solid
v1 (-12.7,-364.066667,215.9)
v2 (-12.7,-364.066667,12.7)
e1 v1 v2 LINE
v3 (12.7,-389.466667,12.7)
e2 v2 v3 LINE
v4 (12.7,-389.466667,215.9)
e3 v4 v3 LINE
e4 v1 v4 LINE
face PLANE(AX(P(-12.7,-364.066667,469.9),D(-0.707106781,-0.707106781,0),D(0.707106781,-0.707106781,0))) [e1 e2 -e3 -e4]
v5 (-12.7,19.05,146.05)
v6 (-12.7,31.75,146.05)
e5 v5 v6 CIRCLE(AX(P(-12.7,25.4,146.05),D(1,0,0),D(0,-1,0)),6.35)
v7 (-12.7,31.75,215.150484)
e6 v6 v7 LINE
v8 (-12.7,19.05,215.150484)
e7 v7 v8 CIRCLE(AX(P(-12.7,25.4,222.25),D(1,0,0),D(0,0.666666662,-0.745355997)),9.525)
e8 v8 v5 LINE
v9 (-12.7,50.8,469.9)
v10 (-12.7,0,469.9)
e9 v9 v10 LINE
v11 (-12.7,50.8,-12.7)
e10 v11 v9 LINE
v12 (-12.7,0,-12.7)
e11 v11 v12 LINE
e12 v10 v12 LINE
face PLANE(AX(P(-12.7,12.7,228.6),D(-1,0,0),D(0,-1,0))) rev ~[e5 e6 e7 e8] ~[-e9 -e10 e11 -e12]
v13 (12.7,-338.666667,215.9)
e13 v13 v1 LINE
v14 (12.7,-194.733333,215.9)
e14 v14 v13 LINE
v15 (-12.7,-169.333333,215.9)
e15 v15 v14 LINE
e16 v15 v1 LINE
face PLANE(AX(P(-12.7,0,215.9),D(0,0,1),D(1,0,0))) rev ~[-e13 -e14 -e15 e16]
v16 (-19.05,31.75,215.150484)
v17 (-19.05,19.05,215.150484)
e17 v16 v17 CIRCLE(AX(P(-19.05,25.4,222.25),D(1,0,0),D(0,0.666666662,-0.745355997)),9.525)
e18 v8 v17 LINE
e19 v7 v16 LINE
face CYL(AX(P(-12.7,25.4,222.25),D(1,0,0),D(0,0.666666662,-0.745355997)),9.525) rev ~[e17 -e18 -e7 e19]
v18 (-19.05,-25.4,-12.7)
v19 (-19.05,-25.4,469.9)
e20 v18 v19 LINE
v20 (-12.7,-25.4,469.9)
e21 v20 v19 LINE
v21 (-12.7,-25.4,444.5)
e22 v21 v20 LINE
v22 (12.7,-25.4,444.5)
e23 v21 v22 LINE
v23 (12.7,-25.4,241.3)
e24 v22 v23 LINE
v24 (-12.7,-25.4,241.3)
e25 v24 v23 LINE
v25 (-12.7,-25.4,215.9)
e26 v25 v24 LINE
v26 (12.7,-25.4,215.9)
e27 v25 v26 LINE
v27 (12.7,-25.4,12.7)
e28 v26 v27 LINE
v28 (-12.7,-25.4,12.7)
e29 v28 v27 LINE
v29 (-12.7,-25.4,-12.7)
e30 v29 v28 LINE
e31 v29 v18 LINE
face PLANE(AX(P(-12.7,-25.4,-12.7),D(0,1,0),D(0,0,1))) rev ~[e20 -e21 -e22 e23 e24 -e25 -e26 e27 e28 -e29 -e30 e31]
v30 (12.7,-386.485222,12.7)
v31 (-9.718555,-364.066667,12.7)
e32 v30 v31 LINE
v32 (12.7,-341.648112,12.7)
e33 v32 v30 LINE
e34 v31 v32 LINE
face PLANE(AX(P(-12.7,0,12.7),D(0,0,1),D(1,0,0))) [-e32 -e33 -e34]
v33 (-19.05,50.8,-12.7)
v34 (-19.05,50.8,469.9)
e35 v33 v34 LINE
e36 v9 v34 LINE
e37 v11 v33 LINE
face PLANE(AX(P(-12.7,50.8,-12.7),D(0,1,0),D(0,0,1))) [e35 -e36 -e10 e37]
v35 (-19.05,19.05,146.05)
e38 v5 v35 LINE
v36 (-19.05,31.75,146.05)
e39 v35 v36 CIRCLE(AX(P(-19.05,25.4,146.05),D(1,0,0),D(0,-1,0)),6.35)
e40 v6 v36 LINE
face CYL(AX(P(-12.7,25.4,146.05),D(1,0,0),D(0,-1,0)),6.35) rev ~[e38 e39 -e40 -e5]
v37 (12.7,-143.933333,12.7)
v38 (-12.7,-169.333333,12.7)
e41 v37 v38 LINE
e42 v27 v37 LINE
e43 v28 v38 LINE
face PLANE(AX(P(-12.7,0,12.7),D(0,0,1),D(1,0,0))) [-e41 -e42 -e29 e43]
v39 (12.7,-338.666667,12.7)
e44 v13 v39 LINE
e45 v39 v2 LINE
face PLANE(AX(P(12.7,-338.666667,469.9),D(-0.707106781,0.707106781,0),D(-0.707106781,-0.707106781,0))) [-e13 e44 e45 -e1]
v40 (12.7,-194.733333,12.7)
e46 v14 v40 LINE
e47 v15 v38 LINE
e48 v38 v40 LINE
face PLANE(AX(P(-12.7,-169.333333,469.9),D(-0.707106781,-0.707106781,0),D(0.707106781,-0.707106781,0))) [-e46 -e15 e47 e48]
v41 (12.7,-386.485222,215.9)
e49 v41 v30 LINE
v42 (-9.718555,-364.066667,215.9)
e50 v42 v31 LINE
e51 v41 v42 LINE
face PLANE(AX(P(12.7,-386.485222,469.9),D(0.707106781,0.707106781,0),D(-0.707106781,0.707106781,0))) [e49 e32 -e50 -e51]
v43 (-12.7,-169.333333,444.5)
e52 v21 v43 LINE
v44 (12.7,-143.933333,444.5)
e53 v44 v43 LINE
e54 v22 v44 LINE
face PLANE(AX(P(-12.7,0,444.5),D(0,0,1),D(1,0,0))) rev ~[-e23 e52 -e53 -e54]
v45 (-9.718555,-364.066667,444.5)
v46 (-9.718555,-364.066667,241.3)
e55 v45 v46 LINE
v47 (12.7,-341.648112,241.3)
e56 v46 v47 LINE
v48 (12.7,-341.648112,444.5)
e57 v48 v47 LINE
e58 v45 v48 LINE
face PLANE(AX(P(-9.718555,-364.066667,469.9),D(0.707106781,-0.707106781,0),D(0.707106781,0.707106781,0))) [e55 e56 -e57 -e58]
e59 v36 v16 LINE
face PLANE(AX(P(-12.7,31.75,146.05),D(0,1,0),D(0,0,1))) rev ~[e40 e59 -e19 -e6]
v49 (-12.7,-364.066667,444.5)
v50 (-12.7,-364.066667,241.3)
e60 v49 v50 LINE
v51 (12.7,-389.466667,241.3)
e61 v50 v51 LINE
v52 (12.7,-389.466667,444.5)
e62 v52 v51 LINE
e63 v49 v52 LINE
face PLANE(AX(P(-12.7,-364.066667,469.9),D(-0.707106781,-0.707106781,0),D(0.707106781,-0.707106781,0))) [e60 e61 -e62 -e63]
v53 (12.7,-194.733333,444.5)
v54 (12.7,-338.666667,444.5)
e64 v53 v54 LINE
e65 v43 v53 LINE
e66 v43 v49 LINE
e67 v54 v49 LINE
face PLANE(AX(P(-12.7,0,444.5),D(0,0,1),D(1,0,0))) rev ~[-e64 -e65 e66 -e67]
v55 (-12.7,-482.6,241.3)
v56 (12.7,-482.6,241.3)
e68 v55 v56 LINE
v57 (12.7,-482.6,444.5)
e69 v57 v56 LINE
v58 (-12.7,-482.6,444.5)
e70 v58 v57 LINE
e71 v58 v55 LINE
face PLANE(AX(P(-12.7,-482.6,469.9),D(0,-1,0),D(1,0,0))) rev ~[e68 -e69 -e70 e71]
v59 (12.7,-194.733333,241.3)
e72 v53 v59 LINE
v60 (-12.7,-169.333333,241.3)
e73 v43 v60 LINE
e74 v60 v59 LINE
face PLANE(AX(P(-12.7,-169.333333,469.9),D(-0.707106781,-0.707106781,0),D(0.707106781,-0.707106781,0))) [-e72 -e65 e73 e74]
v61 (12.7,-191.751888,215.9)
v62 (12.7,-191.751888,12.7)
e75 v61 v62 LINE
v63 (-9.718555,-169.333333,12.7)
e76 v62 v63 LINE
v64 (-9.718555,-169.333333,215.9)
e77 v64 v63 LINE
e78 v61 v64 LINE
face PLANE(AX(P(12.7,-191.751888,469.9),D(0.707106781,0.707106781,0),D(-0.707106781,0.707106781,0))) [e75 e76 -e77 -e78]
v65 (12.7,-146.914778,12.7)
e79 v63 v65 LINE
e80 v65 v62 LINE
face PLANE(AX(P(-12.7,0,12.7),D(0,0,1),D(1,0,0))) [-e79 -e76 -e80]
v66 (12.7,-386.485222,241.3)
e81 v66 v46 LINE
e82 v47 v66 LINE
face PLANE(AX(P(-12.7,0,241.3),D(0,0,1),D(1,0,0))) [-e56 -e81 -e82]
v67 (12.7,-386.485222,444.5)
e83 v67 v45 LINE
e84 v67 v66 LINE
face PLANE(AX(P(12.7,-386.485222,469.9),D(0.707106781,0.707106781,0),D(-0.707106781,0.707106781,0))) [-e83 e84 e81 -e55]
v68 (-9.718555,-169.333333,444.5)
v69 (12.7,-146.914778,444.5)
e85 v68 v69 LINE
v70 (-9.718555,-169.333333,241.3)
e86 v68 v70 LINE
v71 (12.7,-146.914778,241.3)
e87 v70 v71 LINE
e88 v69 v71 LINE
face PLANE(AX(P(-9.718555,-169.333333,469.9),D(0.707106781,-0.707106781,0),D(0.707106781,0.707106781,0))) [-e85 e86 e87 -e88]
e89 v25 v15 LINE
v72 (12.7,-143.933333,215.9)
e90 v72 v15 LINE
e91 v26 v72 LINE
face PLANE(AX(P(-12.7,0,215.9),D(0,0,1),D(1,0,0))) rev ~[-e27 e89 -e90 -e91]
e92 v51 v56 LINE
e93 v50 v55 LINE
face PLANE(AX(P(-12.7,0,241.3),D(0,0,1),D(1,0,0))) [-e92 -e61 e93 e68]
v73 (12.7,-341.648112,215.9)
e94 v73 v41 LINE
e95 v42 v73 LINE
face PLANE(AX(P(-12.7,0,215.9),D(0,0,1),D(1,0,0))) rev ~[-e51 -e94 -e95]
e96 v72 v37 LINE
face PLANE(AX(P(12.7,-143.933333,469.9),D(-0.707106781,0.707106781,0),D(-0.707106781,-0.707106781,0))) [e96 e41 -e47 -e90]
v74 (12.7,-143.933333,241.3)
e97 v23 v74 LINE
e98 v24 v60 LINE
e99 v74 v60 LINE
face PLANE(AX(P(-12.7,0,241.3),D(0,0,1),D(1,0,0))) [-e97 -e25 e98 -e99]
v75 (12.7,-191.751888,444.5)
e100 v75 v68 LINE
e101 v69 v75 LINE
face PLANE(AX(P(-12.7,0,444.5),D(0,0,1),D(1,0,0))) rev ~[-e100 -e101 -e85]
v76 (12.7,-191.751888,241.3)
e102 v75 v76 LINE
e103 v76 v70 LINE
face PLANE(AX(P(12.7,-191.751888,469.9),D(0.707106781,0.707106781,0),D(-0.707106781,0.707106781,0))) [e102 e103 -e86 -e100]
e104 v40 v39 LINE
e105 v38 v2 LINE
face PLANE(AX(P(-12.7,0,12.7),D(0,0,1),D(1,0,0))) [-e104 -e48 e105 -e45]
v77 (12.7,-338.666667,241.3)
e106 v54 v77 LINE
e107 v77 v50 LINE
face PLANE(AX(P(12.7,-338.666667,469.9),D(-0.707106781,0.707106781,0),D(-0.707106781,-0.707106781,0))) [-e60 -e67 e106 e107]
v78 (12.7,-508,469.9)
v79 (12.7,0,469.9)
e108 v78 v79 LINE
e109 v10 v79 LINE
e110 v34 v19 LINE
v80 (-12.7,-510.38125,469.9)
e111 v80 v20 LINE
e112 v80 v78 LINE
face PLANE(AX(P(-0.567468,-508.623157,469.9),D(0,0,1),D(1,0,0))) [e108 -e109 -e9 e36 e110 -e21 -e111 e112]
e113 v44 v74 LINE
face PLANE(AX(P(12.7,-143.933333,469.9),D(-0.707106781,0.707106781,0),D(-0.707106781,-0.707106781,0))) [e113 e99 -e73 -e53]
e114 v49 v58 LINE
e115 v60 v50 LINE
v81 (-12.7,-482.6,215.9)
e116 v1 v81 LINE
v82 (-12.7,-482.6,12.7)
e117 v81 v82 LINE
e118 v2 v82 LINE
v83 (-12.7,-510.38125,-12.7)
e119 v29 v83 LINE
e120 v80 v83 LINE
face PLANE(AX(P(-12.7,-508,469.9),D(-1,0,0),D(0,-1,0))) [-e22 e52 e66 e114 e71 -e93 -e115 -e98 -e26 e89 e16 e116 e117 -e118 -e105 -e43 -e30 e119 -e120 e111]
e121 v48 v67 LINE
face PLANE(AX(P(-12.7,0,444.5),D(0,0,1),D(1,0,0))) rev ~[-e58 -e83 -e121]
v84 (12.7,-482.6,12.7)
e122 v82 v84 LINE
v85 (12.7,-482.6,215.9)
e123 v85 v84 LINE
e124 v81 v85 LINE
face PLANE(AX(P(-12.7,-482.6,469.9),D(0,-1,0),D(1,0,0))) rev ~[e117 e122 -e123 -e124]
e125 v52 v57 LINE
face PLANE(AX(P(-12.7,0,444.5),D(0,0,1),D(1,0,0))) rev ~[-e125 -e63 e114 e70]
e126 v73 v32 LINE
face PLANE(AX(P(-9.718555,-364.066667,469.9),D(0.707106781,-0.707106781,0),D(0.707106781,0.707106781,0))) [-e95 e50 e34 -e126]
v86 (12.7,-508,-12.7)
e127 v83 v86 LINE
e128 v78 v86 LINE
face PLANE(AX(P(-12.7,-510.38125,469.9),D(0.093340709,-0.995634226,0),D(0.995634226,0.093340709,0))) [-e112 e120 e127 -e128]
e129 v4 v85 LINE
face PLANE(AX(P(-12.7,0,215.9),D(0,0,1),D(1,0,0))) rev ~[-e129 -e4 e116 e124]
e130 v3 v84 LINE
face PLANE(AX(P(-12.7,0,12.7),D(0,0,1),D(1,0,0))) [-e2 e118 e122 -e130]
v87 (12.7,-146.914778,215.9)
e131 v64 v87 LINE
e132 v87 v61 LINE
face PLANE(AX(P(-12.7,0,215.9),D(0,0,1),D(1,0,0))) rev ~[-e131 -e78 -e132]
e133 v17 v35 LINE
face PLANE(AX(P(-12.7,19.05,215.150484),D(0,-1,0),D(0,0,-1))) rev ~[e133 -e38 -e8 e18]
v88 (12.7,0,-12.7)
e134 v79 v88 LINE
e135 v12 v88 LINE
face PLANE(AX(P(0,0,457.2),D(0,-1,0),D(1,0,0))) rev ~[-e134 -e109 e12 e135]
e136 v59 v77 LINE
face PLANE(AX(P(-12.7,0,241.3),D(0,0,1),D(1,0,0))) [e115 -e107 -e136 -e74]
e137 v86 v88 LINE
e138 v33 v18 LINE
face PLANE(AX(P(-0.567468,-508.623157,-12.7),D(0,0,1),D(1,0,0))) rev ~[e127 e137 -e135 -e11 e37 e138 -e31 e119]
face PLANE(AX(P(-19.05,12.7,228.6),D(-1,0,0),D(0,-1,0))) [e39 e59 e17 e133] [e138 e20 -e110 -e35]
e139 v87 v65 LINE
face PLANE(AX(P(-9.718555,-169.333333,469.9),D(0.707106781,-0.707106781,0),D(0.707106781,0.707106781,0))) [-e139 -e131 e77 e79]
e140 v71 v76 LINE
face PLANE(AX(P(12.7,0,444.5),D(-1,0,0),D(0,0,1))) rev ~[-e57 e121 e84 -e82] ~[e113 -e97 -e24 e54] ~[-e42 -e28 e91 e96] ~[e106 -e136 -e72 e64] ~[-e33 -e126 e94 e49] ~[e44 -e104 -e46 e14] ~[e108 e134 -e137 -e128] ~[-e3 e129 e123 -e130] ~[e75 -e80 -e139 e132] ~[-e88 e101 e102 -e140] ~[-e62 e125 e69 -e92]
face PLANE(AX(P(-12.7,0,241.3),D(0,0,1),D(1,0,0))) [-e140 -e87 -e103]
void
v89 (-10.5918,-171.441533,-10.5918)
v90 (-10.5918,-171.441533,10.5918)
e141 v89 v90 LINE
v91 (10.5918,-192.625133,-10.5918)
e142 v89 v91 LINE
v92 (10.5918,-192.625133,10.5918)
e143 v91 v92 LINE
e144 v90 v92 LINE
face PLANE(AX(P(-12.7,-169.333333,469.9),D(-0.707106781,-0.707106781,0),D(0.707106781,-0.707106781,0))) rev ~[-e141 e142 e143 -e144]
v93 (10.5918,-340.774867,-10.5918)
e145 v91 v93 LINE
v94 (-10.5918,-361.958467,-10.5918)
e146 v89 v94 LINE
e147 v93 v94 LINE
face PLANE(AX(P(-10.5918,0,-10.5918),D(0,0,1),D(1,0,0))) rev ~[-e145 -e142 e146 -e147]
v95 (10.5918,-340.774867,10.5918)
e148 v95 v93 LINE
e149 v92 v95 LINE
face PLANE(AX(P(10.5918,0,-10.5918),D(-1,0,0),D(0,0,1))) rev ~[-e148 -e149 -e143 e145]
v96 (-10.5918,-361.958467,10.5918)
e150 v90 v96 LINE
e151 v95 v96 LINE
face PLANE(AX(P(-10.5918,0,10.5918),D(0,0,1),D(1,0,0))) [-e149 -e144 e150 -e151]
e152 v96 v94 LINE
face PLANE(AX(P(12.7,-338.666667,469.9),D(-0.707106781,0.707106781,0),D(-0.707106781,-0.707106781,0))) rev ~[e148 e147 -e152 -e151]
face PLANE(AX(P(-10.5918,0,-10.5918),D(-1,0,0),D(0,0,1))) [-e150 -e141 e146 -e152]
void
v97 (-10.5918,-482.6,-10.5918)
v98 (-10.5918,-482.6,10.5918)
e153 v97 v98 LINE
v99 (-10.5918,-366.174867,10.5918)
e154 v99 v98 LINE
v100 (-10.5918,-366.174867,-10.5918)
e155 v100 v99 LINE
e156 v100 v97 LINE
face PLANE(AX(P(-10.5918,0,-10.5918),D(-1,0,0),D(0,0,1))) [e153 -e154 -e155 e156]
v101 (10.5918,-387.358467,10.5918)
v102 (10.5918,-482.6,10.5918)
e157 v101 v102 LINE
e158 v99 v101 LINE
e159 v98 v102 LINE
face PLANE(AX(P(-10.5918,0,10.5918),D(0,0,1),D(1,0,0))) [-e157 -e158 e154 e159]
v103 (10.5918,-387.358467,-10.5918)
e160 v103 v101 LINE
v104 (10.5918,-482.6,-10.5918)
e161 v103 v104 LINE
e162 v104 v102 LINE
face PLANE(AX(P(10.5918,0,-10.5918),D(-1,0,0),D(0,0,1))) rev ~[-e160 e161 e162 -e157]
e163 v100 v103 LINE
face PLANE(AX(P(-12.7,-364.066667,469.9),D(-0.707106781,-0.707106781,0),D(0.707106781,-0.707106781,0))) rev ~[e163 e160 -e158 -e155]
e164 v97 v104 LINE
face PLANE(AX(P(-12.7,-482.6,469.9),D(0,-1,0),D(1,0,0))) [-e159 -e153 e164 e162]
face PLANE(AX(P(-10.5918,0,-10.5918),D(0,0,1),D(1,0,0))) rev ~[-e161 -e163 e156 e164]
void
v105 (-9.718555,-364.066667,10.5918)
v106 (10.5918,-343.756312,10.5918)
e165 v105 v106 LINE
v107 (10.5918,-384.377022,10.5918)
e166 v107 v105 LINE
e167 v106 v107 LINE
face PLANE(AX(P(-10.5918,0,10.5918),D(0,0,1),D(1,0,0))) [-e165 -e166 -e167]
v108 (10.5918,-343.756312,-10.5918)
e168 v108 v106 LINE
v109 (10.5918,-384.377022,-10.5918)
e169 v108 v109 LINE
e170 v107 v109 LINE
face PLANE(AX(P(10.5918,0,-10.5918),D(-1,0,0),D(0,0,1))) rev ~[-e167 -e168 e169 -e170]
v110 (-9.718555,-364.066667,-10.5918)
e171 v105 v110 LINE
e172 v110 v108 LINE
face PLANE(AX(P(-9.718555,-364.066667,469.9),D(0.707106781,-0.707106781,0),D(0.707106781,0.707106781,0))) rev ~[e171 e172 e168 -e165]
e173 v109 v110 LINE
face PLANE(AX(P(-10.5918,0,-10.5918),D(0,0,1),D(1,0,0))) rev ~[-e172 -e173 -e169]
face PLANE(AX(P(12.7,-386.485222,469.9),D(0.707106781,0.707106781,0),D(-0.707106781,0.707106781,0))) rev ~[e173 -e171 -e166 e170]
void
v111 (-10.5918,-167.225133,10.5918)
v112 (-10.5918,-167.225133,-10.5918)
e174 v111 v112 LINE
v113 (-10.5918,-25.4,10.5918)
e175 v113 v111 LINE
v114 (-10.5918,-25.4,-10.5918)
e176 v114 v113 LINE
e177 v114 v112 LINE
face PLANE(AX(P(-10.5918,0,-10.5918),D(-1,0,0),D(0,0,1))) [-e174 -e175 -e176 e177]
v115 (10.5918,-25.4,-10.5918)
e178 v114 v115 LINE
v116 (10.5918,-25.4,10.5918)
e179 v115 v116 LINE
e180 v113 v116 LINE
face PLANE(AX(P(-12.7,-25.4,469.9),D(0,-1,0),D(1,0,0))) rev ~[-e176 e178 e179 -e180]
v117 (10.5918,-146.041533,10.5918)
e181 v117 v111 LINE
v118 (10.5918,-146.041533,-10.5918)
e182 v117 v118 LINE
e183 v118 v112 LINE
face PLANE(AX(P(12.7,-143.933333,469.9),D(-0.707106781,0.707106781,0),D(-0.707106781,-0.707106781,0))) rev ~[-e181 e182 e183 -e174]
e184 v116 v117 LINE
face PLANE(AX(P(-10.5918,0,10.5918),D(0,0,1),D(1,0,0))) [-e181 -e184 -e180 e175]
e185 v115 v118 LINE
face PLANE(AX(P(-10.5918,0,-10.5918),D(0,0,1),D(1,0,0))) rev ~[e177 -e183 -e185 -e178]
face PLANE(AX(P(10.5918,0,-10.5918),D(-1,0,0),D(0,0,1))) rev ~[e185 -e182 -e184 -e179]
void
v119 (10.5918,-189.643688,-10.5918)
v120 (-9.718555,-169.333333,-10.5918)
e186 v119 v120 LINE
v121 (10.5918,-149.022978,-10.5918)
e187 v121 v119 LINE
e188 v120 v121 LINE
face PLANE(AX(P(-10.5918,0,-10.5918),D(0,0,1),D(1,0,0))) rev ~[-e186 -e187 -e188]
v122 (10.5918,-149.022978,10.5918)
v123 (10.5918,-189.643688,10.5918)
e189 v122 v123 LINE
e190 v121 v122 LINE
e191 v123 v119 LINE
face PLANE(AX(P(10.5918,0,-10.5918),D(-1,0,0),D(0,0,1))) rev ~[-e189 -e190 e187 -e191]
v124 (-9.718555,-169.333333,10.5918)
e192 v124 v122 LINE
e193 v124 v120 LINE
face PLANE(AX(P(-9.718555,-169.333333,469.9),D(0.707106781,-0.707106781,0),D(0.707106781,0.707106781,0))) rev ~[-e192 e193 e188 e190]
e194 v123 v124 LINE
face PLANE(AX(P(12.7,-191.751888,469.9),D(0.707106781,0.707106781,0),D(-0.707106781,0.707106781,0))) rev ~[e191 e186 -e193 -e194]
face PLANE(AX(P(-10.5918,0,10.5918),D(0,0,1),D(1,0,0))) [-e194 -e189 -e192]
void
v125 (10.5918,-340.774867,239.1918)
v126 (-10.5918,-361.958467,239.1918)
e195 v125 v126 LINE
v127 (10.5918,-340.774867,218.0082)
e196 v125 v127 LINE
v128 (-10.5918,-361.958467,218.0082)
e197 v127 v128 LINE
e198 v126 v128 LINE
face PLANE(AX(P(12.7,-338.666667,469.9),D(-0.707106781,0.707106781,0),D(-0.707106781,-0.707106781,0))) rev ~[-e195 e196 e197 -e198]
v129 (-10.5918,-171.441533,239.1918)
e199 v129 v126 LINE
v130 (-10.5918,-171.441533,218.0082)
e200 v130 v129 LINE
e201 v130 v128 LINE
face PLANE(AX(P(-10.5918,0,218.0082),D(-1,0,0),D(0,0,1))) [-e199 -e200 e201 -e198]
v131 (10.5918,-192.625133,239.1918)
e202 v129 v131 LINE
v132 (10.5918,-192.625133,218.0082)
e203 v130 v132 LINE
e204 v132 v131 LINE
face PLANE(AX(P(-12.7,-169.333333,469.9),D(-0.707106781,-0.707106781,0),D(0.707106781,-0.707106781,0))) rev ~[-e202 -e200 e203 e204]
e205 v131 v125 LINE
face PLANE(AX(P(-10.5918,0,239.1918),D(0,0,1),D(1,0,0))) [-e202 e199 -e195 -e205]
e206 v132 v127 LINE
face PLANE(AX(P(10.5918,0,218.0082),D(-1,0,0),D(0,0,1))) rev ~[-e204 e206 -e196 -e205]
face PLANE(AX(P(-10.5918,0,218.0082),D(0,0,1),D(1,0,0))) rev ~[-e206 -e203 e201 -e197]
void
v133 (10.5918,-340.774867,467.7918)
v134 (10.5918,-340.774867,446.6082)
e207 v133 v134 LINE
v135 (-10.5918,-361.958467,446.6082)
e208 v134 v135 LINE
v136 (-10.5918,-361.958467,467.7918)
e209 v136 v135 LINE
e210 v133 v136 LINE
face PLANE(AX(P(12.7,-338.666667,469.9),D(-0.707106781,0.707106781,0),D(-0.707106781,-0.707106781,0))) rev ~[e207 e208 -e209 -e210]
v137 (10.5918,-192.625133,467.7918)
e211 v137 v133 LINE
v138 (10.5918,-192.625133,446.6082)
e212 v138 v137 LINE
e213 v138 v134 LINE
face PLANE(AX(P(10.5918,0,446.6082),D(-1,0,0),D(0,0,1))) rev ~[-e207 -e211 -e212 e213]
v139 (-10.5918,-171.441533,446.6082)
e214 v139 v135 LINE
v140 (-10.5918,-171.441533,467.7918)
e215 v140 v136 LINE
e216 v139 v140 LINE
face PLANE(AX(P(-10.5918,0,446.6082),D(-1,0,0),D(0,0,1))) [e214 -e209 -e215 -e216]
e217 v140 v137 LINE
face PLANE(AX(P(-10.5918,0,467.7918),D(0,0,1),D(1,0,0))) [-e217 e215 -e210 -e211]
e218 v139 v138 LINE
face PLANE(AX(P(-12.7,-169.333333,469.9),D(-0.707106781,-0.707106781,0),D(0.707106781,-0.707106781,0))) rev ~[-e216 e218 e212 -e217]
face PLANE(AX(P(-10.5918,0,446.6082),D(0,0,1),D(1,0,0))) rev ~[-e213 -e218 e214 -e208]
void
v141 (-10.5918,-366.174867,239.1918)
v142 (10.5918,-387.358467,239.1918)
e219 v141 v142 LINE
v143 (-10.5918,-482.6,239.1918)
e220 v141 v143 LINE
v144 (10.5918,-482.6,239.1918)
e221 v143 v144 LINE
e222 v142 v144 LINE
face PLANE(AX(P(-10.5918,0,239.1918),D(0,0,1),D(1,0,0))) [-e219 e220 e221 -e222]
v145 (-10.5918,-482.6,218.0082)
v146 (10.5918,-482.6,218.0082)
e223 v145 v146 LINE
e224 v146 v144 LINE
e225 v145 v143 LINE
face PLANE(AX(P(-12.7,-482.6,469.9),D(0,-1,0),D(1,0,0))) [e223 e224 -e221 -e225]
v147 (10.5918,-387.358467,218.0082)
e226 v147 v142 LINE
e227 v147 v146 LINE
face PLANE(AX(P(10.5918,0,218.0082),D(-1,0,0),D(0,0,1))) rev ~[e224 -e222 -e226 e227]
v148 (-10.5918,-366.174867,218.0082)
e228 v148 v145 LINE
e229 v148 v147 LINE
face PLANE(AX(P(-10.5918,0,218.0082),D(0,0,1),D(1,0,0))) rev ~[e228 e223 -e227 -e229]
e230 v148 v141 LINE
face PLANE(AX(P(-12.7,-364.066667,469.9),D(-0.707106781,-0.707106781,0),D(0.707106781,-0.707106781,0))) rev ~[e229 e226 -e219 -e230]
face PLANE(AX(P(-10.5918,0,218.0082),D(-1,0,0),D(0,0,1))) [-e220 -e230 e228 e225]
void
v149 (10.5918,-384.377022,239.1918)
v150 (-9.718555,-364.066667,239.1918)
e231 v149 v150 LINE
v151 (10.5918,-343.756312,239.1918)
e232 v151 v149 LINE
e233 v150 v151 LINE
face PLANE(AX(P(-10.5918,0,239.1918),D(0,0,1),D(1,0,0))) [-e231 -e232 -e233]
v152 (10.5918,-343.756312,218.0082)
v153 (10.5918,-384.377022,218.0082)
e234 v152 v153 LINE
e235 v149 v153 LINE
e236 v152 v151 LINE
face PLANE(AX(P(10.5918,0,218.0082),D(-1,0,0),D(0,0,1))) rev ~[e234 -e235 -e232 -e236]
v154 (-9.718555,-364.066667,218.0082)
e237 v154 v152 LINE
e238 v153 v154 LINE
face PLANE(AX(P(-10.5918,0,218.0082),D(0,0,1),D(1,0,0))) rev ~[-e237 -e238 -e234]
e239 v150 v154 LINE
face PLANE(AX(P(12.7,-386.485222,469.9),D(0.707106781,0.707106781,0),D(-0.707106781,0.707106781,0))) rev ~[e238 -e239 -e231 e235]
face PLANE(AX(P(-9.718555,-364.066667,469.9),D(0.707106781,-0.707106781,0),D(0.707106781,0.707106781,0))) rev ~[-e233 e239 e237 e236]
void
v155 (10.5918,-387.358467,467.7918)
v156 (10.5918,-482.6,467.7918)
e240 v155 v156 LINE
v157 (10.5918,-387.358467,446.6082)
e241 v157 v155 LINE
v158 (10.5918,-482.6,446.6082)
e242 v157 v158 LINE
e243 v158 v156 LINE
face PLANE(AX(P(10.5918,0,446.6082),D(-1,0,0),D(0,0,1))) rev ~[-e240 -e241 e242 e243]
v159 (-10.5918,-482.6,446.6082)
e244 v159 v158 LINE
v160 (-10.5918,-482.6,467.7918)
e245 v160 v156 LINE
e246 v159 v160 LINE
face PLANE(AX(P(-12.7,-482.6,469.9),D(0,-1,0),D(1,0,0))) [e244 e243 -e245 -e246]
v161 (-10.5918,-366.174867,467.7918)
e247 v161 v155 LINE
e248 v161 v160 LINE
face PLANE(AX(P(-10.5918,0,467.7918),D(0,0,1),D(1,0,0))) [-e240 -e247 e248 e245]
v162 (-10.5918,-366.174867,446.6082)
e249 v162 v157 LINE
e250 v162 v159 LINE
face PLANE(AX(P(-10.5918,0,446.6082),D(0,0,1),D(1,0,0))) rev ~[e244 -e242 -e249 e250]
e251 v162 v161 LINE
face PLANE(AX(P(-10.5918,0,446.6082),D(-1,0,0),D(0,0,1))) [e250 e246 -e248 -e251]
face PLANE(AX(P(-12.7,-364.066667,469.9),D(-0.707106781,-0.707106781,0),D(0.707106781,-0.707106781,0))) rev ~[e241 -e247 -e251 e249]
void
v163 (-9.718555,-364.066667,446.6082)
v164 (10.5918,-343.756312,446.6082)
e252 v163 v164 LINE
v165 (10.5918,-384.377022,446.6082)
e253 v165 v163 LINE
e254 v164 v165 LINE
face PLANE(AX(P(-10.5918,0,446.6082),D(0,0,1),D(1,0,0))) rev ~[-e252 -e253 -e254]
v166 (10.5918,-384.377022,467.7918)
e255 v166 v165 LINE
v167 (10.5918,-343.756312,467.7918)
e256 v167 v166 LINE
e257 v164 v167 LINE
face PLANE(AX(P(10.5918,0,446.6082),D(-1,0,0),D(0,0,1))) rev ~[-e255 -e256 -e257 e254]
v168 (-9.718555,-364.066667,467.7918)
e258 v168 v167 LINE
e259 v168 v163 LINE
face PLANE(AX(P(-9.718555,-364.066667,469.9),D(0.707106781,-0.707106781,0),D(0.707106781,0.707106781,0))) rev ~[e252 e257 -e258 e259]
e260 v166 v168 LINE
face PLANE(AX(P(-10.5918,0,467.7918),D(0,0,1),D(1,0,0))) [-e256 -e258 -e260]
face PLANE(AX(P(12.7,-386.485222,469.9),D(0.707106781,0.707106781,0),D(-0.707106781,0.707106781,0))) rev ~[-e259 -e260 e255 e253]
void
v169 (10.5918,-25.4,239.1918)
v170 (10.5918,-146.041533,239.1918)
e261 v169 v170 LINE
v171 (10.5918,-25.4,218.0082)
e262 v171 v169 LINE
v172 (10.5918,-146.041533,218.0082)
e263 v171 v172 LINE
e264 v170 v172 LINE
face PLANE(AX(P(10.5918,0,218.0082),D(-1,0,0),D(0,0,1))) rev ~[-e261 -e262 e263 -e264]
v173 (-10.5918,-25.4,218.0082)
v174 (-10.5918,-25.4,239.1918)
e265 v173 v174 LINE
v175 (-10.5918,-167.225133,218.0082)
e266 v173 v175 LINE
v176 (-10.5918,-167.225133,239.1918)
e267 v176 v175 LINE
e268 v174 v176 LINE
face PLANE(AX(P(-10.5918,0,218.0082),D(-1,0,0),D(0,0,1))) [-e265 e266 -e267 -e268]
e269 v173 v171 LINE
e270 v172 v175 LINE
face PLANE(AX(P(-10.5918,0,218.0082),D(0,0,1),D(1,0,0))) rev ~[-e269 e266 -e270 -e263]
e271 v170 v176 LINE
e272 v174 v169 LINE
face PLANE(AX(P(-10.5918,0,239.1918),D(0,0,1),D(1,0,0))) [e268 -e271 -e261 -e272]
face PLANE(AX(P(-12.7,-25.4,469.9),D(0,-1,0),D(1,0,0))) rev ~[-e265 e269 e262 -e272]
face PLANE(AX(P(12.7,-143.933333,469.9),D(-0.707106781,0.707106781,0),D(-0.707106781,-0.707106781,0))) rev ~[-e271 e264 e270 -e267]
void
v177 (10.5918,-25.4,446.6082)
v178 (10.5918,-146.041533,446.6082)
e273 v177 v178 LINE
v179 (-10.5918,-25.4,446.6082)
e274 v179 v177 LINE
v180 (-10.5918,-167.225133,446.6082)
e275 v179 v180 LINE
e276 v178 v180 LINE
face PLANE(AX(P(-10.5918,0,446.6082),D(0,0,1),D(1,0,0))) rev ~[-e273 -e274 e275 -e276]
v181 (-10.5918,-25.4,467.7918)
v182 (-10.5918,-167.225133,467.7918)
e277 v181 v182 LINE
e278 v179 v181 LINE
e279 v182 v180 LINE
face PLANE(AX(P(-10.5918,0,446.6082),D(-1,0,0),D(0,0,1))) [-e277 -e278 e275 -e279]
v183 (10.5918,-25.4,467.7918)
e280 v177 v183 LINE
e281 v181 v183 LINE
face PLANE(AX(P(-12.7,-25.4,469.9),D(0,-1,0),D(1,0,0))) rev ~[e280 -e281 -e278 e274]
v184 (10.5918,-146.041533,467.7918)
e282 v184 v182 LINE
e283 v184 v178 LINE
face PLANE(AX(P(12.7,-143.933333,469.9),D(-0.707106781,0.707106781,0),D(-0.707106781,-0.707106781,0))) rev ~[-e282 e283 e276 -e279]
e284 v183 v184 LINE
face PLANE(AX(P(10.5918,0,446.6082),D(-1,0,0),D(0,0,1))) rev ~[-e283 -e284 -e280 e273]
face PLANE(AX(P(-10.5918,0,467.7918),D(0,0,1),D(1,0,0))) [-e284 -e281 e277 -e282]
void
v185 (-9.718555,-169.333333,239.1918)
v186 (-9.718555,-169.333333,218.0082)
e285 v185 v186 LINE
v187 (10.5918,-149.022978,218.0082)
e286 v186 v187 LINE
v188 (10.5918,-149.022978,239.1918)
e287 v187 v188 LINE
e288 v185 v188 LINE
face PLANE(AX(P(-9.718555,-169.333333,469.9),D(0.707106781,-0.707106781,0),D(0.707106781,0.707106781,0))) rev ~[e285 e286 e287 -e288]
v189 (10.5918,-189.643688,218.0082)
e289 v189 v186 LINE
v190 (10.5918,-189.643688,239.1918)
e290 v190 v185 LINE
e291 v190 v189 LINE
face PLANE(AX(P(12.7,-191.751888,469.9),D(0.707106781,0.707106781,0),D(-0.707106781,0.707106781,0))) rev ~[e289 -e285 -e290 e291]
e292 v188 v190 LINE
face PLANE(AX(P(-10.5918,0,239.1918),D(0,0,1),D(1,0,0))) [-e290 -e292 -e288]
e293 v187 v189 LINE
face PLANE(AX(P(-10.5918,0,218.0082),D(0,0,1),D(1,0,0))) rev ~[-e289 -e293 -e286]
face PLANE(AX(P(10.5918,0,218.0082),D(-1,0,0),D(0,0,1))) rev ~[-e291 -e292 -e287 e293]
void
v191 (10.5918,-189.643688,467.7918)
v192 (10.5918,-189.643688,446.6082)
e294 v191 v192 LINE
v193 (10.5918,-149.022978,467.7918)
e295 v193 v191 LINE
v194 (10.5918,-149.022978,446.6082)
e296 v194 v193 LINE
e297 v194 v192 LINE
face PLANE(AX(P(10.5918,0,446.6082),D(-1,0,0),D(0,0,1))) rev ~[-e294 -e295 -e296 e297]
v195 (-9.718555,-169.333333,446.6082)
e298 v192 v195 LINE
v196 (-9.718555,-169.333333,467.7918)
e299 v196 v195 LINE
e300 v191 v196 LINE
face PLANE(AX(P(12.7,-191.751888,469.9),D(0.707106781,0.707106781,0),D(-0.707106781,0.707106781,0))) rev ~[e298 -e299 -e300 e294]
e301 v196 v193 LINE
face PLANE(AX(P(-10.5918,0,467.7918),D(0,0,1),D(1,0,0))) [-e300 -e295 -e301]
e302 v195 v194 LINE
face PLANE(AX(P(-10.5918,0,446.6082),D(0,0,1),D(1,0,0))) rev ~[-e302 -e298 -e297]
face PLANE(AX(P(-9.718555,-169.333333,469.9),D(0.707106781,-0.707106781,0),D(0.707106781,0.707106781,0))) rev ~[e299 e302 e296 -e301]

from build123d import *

# Parameters (mm, degrees)
F0_W     = 25.4
F0_H     = 25.4
F0_W_2   = 21.1836
F0_H_2   = 21.1836
F1_DEPTH = 508
F2_W     = 25.4
F2_H     = 25.4
F3_DEPTH = 482.6
F4_W     = 76.2
F4_H     = 482.6
F5_DEPTH = 6.35
F7_DEPTH = 482.6
F9_DEPTH = 482.6


with BuildPart() as f1:
    # F0 (on Front) → F1 (new body)
    with BuildSketch(Plane.XZ):
        with Locations((0, 457.2)):
            Rectangle(F0_W, F0_H)
        with Locations((0, 457.2)):
            Rectangle(F0_W_2, F0_H_2, mode=Mode.SUBTRACT)
        with Locations((0, 228.6)):
            Rectangle(F0_W, F0_H)
        with Locations((0, 228.6)):
            Rectangle(F0_W_2, F0_H_2, mode=Mode.SUBTRACT)
        Rectangle(F0_W, F0_H)
        Rectangle(F0_W_2, F0_H_2, mode=Mode.SUBTRACT)
    extrude(amount=F1_DEPTH)

    # F2 (on face) → F3 (join)
    with BuildSketch(Plane.XY.offset(469.9)):
        with Locations((0, -12.7)):
            Rectangle(F2_W, F2_H)
        with Locations((0, -495.3)):
            Rectangle(F2_W, F2_H)
    extrude(amount=-F3_DEPTH)

    # F4 (on face) → F5 (join)
    with BuildSketch(Plane(origin=(-12.7, 0, 0), x_dir=(0, -1, 0), z_dir=(-1, 0, 0))):
        with Locations((-12.7, 228.6)):
            Rectangle(F4_W, F4_H)
        with BuildLine():
            ThreePointArc((-31.75, 215.150484), (-25.4, 231.775), (-19.05, 215.150484))
            Line((-19.05, 215.150484), (-19.05, 146.05))
            ThreePointArc((-19.05, 146.05), (-25.4, 139.7), (-31.75, 146.05))
            Line((-31.75, 146.05), (-31.75, 215.150484))
        make_face(mode=Mode.SUBTRACT)
    extrude(amount=F5_DEPTH)

    # F6 (on face) → F7 (join)
    with BuildSketch(Plane.XY.offset(469.9)):
        Polygon((-12.7, -169.333333), (12.7, -194.733333), (12.7, -191.751888), (-9.718555, -169.333333), (12.7, -146.914778), (12.7, -143.933333), align=None)
        Polygon((-12.7, -364.066667), (12.7, -389.466667), (12.7, -386.485222), (-9.718555, -364.066667), (12.7, -341.648112), (12.7, -338.666667), align=None)
    extrude(amount=-F7_DEPTH)

    # F8 (on face) → F9 (join)
    with BuildSketch(Plane.XY.offset(469.9)):
        Polygon((-12.7, -510.38125), (12.7, -508), (-12.7, -508), align=None)
    extrude(amount=-F9_DEPTH)


solid = f1.part
